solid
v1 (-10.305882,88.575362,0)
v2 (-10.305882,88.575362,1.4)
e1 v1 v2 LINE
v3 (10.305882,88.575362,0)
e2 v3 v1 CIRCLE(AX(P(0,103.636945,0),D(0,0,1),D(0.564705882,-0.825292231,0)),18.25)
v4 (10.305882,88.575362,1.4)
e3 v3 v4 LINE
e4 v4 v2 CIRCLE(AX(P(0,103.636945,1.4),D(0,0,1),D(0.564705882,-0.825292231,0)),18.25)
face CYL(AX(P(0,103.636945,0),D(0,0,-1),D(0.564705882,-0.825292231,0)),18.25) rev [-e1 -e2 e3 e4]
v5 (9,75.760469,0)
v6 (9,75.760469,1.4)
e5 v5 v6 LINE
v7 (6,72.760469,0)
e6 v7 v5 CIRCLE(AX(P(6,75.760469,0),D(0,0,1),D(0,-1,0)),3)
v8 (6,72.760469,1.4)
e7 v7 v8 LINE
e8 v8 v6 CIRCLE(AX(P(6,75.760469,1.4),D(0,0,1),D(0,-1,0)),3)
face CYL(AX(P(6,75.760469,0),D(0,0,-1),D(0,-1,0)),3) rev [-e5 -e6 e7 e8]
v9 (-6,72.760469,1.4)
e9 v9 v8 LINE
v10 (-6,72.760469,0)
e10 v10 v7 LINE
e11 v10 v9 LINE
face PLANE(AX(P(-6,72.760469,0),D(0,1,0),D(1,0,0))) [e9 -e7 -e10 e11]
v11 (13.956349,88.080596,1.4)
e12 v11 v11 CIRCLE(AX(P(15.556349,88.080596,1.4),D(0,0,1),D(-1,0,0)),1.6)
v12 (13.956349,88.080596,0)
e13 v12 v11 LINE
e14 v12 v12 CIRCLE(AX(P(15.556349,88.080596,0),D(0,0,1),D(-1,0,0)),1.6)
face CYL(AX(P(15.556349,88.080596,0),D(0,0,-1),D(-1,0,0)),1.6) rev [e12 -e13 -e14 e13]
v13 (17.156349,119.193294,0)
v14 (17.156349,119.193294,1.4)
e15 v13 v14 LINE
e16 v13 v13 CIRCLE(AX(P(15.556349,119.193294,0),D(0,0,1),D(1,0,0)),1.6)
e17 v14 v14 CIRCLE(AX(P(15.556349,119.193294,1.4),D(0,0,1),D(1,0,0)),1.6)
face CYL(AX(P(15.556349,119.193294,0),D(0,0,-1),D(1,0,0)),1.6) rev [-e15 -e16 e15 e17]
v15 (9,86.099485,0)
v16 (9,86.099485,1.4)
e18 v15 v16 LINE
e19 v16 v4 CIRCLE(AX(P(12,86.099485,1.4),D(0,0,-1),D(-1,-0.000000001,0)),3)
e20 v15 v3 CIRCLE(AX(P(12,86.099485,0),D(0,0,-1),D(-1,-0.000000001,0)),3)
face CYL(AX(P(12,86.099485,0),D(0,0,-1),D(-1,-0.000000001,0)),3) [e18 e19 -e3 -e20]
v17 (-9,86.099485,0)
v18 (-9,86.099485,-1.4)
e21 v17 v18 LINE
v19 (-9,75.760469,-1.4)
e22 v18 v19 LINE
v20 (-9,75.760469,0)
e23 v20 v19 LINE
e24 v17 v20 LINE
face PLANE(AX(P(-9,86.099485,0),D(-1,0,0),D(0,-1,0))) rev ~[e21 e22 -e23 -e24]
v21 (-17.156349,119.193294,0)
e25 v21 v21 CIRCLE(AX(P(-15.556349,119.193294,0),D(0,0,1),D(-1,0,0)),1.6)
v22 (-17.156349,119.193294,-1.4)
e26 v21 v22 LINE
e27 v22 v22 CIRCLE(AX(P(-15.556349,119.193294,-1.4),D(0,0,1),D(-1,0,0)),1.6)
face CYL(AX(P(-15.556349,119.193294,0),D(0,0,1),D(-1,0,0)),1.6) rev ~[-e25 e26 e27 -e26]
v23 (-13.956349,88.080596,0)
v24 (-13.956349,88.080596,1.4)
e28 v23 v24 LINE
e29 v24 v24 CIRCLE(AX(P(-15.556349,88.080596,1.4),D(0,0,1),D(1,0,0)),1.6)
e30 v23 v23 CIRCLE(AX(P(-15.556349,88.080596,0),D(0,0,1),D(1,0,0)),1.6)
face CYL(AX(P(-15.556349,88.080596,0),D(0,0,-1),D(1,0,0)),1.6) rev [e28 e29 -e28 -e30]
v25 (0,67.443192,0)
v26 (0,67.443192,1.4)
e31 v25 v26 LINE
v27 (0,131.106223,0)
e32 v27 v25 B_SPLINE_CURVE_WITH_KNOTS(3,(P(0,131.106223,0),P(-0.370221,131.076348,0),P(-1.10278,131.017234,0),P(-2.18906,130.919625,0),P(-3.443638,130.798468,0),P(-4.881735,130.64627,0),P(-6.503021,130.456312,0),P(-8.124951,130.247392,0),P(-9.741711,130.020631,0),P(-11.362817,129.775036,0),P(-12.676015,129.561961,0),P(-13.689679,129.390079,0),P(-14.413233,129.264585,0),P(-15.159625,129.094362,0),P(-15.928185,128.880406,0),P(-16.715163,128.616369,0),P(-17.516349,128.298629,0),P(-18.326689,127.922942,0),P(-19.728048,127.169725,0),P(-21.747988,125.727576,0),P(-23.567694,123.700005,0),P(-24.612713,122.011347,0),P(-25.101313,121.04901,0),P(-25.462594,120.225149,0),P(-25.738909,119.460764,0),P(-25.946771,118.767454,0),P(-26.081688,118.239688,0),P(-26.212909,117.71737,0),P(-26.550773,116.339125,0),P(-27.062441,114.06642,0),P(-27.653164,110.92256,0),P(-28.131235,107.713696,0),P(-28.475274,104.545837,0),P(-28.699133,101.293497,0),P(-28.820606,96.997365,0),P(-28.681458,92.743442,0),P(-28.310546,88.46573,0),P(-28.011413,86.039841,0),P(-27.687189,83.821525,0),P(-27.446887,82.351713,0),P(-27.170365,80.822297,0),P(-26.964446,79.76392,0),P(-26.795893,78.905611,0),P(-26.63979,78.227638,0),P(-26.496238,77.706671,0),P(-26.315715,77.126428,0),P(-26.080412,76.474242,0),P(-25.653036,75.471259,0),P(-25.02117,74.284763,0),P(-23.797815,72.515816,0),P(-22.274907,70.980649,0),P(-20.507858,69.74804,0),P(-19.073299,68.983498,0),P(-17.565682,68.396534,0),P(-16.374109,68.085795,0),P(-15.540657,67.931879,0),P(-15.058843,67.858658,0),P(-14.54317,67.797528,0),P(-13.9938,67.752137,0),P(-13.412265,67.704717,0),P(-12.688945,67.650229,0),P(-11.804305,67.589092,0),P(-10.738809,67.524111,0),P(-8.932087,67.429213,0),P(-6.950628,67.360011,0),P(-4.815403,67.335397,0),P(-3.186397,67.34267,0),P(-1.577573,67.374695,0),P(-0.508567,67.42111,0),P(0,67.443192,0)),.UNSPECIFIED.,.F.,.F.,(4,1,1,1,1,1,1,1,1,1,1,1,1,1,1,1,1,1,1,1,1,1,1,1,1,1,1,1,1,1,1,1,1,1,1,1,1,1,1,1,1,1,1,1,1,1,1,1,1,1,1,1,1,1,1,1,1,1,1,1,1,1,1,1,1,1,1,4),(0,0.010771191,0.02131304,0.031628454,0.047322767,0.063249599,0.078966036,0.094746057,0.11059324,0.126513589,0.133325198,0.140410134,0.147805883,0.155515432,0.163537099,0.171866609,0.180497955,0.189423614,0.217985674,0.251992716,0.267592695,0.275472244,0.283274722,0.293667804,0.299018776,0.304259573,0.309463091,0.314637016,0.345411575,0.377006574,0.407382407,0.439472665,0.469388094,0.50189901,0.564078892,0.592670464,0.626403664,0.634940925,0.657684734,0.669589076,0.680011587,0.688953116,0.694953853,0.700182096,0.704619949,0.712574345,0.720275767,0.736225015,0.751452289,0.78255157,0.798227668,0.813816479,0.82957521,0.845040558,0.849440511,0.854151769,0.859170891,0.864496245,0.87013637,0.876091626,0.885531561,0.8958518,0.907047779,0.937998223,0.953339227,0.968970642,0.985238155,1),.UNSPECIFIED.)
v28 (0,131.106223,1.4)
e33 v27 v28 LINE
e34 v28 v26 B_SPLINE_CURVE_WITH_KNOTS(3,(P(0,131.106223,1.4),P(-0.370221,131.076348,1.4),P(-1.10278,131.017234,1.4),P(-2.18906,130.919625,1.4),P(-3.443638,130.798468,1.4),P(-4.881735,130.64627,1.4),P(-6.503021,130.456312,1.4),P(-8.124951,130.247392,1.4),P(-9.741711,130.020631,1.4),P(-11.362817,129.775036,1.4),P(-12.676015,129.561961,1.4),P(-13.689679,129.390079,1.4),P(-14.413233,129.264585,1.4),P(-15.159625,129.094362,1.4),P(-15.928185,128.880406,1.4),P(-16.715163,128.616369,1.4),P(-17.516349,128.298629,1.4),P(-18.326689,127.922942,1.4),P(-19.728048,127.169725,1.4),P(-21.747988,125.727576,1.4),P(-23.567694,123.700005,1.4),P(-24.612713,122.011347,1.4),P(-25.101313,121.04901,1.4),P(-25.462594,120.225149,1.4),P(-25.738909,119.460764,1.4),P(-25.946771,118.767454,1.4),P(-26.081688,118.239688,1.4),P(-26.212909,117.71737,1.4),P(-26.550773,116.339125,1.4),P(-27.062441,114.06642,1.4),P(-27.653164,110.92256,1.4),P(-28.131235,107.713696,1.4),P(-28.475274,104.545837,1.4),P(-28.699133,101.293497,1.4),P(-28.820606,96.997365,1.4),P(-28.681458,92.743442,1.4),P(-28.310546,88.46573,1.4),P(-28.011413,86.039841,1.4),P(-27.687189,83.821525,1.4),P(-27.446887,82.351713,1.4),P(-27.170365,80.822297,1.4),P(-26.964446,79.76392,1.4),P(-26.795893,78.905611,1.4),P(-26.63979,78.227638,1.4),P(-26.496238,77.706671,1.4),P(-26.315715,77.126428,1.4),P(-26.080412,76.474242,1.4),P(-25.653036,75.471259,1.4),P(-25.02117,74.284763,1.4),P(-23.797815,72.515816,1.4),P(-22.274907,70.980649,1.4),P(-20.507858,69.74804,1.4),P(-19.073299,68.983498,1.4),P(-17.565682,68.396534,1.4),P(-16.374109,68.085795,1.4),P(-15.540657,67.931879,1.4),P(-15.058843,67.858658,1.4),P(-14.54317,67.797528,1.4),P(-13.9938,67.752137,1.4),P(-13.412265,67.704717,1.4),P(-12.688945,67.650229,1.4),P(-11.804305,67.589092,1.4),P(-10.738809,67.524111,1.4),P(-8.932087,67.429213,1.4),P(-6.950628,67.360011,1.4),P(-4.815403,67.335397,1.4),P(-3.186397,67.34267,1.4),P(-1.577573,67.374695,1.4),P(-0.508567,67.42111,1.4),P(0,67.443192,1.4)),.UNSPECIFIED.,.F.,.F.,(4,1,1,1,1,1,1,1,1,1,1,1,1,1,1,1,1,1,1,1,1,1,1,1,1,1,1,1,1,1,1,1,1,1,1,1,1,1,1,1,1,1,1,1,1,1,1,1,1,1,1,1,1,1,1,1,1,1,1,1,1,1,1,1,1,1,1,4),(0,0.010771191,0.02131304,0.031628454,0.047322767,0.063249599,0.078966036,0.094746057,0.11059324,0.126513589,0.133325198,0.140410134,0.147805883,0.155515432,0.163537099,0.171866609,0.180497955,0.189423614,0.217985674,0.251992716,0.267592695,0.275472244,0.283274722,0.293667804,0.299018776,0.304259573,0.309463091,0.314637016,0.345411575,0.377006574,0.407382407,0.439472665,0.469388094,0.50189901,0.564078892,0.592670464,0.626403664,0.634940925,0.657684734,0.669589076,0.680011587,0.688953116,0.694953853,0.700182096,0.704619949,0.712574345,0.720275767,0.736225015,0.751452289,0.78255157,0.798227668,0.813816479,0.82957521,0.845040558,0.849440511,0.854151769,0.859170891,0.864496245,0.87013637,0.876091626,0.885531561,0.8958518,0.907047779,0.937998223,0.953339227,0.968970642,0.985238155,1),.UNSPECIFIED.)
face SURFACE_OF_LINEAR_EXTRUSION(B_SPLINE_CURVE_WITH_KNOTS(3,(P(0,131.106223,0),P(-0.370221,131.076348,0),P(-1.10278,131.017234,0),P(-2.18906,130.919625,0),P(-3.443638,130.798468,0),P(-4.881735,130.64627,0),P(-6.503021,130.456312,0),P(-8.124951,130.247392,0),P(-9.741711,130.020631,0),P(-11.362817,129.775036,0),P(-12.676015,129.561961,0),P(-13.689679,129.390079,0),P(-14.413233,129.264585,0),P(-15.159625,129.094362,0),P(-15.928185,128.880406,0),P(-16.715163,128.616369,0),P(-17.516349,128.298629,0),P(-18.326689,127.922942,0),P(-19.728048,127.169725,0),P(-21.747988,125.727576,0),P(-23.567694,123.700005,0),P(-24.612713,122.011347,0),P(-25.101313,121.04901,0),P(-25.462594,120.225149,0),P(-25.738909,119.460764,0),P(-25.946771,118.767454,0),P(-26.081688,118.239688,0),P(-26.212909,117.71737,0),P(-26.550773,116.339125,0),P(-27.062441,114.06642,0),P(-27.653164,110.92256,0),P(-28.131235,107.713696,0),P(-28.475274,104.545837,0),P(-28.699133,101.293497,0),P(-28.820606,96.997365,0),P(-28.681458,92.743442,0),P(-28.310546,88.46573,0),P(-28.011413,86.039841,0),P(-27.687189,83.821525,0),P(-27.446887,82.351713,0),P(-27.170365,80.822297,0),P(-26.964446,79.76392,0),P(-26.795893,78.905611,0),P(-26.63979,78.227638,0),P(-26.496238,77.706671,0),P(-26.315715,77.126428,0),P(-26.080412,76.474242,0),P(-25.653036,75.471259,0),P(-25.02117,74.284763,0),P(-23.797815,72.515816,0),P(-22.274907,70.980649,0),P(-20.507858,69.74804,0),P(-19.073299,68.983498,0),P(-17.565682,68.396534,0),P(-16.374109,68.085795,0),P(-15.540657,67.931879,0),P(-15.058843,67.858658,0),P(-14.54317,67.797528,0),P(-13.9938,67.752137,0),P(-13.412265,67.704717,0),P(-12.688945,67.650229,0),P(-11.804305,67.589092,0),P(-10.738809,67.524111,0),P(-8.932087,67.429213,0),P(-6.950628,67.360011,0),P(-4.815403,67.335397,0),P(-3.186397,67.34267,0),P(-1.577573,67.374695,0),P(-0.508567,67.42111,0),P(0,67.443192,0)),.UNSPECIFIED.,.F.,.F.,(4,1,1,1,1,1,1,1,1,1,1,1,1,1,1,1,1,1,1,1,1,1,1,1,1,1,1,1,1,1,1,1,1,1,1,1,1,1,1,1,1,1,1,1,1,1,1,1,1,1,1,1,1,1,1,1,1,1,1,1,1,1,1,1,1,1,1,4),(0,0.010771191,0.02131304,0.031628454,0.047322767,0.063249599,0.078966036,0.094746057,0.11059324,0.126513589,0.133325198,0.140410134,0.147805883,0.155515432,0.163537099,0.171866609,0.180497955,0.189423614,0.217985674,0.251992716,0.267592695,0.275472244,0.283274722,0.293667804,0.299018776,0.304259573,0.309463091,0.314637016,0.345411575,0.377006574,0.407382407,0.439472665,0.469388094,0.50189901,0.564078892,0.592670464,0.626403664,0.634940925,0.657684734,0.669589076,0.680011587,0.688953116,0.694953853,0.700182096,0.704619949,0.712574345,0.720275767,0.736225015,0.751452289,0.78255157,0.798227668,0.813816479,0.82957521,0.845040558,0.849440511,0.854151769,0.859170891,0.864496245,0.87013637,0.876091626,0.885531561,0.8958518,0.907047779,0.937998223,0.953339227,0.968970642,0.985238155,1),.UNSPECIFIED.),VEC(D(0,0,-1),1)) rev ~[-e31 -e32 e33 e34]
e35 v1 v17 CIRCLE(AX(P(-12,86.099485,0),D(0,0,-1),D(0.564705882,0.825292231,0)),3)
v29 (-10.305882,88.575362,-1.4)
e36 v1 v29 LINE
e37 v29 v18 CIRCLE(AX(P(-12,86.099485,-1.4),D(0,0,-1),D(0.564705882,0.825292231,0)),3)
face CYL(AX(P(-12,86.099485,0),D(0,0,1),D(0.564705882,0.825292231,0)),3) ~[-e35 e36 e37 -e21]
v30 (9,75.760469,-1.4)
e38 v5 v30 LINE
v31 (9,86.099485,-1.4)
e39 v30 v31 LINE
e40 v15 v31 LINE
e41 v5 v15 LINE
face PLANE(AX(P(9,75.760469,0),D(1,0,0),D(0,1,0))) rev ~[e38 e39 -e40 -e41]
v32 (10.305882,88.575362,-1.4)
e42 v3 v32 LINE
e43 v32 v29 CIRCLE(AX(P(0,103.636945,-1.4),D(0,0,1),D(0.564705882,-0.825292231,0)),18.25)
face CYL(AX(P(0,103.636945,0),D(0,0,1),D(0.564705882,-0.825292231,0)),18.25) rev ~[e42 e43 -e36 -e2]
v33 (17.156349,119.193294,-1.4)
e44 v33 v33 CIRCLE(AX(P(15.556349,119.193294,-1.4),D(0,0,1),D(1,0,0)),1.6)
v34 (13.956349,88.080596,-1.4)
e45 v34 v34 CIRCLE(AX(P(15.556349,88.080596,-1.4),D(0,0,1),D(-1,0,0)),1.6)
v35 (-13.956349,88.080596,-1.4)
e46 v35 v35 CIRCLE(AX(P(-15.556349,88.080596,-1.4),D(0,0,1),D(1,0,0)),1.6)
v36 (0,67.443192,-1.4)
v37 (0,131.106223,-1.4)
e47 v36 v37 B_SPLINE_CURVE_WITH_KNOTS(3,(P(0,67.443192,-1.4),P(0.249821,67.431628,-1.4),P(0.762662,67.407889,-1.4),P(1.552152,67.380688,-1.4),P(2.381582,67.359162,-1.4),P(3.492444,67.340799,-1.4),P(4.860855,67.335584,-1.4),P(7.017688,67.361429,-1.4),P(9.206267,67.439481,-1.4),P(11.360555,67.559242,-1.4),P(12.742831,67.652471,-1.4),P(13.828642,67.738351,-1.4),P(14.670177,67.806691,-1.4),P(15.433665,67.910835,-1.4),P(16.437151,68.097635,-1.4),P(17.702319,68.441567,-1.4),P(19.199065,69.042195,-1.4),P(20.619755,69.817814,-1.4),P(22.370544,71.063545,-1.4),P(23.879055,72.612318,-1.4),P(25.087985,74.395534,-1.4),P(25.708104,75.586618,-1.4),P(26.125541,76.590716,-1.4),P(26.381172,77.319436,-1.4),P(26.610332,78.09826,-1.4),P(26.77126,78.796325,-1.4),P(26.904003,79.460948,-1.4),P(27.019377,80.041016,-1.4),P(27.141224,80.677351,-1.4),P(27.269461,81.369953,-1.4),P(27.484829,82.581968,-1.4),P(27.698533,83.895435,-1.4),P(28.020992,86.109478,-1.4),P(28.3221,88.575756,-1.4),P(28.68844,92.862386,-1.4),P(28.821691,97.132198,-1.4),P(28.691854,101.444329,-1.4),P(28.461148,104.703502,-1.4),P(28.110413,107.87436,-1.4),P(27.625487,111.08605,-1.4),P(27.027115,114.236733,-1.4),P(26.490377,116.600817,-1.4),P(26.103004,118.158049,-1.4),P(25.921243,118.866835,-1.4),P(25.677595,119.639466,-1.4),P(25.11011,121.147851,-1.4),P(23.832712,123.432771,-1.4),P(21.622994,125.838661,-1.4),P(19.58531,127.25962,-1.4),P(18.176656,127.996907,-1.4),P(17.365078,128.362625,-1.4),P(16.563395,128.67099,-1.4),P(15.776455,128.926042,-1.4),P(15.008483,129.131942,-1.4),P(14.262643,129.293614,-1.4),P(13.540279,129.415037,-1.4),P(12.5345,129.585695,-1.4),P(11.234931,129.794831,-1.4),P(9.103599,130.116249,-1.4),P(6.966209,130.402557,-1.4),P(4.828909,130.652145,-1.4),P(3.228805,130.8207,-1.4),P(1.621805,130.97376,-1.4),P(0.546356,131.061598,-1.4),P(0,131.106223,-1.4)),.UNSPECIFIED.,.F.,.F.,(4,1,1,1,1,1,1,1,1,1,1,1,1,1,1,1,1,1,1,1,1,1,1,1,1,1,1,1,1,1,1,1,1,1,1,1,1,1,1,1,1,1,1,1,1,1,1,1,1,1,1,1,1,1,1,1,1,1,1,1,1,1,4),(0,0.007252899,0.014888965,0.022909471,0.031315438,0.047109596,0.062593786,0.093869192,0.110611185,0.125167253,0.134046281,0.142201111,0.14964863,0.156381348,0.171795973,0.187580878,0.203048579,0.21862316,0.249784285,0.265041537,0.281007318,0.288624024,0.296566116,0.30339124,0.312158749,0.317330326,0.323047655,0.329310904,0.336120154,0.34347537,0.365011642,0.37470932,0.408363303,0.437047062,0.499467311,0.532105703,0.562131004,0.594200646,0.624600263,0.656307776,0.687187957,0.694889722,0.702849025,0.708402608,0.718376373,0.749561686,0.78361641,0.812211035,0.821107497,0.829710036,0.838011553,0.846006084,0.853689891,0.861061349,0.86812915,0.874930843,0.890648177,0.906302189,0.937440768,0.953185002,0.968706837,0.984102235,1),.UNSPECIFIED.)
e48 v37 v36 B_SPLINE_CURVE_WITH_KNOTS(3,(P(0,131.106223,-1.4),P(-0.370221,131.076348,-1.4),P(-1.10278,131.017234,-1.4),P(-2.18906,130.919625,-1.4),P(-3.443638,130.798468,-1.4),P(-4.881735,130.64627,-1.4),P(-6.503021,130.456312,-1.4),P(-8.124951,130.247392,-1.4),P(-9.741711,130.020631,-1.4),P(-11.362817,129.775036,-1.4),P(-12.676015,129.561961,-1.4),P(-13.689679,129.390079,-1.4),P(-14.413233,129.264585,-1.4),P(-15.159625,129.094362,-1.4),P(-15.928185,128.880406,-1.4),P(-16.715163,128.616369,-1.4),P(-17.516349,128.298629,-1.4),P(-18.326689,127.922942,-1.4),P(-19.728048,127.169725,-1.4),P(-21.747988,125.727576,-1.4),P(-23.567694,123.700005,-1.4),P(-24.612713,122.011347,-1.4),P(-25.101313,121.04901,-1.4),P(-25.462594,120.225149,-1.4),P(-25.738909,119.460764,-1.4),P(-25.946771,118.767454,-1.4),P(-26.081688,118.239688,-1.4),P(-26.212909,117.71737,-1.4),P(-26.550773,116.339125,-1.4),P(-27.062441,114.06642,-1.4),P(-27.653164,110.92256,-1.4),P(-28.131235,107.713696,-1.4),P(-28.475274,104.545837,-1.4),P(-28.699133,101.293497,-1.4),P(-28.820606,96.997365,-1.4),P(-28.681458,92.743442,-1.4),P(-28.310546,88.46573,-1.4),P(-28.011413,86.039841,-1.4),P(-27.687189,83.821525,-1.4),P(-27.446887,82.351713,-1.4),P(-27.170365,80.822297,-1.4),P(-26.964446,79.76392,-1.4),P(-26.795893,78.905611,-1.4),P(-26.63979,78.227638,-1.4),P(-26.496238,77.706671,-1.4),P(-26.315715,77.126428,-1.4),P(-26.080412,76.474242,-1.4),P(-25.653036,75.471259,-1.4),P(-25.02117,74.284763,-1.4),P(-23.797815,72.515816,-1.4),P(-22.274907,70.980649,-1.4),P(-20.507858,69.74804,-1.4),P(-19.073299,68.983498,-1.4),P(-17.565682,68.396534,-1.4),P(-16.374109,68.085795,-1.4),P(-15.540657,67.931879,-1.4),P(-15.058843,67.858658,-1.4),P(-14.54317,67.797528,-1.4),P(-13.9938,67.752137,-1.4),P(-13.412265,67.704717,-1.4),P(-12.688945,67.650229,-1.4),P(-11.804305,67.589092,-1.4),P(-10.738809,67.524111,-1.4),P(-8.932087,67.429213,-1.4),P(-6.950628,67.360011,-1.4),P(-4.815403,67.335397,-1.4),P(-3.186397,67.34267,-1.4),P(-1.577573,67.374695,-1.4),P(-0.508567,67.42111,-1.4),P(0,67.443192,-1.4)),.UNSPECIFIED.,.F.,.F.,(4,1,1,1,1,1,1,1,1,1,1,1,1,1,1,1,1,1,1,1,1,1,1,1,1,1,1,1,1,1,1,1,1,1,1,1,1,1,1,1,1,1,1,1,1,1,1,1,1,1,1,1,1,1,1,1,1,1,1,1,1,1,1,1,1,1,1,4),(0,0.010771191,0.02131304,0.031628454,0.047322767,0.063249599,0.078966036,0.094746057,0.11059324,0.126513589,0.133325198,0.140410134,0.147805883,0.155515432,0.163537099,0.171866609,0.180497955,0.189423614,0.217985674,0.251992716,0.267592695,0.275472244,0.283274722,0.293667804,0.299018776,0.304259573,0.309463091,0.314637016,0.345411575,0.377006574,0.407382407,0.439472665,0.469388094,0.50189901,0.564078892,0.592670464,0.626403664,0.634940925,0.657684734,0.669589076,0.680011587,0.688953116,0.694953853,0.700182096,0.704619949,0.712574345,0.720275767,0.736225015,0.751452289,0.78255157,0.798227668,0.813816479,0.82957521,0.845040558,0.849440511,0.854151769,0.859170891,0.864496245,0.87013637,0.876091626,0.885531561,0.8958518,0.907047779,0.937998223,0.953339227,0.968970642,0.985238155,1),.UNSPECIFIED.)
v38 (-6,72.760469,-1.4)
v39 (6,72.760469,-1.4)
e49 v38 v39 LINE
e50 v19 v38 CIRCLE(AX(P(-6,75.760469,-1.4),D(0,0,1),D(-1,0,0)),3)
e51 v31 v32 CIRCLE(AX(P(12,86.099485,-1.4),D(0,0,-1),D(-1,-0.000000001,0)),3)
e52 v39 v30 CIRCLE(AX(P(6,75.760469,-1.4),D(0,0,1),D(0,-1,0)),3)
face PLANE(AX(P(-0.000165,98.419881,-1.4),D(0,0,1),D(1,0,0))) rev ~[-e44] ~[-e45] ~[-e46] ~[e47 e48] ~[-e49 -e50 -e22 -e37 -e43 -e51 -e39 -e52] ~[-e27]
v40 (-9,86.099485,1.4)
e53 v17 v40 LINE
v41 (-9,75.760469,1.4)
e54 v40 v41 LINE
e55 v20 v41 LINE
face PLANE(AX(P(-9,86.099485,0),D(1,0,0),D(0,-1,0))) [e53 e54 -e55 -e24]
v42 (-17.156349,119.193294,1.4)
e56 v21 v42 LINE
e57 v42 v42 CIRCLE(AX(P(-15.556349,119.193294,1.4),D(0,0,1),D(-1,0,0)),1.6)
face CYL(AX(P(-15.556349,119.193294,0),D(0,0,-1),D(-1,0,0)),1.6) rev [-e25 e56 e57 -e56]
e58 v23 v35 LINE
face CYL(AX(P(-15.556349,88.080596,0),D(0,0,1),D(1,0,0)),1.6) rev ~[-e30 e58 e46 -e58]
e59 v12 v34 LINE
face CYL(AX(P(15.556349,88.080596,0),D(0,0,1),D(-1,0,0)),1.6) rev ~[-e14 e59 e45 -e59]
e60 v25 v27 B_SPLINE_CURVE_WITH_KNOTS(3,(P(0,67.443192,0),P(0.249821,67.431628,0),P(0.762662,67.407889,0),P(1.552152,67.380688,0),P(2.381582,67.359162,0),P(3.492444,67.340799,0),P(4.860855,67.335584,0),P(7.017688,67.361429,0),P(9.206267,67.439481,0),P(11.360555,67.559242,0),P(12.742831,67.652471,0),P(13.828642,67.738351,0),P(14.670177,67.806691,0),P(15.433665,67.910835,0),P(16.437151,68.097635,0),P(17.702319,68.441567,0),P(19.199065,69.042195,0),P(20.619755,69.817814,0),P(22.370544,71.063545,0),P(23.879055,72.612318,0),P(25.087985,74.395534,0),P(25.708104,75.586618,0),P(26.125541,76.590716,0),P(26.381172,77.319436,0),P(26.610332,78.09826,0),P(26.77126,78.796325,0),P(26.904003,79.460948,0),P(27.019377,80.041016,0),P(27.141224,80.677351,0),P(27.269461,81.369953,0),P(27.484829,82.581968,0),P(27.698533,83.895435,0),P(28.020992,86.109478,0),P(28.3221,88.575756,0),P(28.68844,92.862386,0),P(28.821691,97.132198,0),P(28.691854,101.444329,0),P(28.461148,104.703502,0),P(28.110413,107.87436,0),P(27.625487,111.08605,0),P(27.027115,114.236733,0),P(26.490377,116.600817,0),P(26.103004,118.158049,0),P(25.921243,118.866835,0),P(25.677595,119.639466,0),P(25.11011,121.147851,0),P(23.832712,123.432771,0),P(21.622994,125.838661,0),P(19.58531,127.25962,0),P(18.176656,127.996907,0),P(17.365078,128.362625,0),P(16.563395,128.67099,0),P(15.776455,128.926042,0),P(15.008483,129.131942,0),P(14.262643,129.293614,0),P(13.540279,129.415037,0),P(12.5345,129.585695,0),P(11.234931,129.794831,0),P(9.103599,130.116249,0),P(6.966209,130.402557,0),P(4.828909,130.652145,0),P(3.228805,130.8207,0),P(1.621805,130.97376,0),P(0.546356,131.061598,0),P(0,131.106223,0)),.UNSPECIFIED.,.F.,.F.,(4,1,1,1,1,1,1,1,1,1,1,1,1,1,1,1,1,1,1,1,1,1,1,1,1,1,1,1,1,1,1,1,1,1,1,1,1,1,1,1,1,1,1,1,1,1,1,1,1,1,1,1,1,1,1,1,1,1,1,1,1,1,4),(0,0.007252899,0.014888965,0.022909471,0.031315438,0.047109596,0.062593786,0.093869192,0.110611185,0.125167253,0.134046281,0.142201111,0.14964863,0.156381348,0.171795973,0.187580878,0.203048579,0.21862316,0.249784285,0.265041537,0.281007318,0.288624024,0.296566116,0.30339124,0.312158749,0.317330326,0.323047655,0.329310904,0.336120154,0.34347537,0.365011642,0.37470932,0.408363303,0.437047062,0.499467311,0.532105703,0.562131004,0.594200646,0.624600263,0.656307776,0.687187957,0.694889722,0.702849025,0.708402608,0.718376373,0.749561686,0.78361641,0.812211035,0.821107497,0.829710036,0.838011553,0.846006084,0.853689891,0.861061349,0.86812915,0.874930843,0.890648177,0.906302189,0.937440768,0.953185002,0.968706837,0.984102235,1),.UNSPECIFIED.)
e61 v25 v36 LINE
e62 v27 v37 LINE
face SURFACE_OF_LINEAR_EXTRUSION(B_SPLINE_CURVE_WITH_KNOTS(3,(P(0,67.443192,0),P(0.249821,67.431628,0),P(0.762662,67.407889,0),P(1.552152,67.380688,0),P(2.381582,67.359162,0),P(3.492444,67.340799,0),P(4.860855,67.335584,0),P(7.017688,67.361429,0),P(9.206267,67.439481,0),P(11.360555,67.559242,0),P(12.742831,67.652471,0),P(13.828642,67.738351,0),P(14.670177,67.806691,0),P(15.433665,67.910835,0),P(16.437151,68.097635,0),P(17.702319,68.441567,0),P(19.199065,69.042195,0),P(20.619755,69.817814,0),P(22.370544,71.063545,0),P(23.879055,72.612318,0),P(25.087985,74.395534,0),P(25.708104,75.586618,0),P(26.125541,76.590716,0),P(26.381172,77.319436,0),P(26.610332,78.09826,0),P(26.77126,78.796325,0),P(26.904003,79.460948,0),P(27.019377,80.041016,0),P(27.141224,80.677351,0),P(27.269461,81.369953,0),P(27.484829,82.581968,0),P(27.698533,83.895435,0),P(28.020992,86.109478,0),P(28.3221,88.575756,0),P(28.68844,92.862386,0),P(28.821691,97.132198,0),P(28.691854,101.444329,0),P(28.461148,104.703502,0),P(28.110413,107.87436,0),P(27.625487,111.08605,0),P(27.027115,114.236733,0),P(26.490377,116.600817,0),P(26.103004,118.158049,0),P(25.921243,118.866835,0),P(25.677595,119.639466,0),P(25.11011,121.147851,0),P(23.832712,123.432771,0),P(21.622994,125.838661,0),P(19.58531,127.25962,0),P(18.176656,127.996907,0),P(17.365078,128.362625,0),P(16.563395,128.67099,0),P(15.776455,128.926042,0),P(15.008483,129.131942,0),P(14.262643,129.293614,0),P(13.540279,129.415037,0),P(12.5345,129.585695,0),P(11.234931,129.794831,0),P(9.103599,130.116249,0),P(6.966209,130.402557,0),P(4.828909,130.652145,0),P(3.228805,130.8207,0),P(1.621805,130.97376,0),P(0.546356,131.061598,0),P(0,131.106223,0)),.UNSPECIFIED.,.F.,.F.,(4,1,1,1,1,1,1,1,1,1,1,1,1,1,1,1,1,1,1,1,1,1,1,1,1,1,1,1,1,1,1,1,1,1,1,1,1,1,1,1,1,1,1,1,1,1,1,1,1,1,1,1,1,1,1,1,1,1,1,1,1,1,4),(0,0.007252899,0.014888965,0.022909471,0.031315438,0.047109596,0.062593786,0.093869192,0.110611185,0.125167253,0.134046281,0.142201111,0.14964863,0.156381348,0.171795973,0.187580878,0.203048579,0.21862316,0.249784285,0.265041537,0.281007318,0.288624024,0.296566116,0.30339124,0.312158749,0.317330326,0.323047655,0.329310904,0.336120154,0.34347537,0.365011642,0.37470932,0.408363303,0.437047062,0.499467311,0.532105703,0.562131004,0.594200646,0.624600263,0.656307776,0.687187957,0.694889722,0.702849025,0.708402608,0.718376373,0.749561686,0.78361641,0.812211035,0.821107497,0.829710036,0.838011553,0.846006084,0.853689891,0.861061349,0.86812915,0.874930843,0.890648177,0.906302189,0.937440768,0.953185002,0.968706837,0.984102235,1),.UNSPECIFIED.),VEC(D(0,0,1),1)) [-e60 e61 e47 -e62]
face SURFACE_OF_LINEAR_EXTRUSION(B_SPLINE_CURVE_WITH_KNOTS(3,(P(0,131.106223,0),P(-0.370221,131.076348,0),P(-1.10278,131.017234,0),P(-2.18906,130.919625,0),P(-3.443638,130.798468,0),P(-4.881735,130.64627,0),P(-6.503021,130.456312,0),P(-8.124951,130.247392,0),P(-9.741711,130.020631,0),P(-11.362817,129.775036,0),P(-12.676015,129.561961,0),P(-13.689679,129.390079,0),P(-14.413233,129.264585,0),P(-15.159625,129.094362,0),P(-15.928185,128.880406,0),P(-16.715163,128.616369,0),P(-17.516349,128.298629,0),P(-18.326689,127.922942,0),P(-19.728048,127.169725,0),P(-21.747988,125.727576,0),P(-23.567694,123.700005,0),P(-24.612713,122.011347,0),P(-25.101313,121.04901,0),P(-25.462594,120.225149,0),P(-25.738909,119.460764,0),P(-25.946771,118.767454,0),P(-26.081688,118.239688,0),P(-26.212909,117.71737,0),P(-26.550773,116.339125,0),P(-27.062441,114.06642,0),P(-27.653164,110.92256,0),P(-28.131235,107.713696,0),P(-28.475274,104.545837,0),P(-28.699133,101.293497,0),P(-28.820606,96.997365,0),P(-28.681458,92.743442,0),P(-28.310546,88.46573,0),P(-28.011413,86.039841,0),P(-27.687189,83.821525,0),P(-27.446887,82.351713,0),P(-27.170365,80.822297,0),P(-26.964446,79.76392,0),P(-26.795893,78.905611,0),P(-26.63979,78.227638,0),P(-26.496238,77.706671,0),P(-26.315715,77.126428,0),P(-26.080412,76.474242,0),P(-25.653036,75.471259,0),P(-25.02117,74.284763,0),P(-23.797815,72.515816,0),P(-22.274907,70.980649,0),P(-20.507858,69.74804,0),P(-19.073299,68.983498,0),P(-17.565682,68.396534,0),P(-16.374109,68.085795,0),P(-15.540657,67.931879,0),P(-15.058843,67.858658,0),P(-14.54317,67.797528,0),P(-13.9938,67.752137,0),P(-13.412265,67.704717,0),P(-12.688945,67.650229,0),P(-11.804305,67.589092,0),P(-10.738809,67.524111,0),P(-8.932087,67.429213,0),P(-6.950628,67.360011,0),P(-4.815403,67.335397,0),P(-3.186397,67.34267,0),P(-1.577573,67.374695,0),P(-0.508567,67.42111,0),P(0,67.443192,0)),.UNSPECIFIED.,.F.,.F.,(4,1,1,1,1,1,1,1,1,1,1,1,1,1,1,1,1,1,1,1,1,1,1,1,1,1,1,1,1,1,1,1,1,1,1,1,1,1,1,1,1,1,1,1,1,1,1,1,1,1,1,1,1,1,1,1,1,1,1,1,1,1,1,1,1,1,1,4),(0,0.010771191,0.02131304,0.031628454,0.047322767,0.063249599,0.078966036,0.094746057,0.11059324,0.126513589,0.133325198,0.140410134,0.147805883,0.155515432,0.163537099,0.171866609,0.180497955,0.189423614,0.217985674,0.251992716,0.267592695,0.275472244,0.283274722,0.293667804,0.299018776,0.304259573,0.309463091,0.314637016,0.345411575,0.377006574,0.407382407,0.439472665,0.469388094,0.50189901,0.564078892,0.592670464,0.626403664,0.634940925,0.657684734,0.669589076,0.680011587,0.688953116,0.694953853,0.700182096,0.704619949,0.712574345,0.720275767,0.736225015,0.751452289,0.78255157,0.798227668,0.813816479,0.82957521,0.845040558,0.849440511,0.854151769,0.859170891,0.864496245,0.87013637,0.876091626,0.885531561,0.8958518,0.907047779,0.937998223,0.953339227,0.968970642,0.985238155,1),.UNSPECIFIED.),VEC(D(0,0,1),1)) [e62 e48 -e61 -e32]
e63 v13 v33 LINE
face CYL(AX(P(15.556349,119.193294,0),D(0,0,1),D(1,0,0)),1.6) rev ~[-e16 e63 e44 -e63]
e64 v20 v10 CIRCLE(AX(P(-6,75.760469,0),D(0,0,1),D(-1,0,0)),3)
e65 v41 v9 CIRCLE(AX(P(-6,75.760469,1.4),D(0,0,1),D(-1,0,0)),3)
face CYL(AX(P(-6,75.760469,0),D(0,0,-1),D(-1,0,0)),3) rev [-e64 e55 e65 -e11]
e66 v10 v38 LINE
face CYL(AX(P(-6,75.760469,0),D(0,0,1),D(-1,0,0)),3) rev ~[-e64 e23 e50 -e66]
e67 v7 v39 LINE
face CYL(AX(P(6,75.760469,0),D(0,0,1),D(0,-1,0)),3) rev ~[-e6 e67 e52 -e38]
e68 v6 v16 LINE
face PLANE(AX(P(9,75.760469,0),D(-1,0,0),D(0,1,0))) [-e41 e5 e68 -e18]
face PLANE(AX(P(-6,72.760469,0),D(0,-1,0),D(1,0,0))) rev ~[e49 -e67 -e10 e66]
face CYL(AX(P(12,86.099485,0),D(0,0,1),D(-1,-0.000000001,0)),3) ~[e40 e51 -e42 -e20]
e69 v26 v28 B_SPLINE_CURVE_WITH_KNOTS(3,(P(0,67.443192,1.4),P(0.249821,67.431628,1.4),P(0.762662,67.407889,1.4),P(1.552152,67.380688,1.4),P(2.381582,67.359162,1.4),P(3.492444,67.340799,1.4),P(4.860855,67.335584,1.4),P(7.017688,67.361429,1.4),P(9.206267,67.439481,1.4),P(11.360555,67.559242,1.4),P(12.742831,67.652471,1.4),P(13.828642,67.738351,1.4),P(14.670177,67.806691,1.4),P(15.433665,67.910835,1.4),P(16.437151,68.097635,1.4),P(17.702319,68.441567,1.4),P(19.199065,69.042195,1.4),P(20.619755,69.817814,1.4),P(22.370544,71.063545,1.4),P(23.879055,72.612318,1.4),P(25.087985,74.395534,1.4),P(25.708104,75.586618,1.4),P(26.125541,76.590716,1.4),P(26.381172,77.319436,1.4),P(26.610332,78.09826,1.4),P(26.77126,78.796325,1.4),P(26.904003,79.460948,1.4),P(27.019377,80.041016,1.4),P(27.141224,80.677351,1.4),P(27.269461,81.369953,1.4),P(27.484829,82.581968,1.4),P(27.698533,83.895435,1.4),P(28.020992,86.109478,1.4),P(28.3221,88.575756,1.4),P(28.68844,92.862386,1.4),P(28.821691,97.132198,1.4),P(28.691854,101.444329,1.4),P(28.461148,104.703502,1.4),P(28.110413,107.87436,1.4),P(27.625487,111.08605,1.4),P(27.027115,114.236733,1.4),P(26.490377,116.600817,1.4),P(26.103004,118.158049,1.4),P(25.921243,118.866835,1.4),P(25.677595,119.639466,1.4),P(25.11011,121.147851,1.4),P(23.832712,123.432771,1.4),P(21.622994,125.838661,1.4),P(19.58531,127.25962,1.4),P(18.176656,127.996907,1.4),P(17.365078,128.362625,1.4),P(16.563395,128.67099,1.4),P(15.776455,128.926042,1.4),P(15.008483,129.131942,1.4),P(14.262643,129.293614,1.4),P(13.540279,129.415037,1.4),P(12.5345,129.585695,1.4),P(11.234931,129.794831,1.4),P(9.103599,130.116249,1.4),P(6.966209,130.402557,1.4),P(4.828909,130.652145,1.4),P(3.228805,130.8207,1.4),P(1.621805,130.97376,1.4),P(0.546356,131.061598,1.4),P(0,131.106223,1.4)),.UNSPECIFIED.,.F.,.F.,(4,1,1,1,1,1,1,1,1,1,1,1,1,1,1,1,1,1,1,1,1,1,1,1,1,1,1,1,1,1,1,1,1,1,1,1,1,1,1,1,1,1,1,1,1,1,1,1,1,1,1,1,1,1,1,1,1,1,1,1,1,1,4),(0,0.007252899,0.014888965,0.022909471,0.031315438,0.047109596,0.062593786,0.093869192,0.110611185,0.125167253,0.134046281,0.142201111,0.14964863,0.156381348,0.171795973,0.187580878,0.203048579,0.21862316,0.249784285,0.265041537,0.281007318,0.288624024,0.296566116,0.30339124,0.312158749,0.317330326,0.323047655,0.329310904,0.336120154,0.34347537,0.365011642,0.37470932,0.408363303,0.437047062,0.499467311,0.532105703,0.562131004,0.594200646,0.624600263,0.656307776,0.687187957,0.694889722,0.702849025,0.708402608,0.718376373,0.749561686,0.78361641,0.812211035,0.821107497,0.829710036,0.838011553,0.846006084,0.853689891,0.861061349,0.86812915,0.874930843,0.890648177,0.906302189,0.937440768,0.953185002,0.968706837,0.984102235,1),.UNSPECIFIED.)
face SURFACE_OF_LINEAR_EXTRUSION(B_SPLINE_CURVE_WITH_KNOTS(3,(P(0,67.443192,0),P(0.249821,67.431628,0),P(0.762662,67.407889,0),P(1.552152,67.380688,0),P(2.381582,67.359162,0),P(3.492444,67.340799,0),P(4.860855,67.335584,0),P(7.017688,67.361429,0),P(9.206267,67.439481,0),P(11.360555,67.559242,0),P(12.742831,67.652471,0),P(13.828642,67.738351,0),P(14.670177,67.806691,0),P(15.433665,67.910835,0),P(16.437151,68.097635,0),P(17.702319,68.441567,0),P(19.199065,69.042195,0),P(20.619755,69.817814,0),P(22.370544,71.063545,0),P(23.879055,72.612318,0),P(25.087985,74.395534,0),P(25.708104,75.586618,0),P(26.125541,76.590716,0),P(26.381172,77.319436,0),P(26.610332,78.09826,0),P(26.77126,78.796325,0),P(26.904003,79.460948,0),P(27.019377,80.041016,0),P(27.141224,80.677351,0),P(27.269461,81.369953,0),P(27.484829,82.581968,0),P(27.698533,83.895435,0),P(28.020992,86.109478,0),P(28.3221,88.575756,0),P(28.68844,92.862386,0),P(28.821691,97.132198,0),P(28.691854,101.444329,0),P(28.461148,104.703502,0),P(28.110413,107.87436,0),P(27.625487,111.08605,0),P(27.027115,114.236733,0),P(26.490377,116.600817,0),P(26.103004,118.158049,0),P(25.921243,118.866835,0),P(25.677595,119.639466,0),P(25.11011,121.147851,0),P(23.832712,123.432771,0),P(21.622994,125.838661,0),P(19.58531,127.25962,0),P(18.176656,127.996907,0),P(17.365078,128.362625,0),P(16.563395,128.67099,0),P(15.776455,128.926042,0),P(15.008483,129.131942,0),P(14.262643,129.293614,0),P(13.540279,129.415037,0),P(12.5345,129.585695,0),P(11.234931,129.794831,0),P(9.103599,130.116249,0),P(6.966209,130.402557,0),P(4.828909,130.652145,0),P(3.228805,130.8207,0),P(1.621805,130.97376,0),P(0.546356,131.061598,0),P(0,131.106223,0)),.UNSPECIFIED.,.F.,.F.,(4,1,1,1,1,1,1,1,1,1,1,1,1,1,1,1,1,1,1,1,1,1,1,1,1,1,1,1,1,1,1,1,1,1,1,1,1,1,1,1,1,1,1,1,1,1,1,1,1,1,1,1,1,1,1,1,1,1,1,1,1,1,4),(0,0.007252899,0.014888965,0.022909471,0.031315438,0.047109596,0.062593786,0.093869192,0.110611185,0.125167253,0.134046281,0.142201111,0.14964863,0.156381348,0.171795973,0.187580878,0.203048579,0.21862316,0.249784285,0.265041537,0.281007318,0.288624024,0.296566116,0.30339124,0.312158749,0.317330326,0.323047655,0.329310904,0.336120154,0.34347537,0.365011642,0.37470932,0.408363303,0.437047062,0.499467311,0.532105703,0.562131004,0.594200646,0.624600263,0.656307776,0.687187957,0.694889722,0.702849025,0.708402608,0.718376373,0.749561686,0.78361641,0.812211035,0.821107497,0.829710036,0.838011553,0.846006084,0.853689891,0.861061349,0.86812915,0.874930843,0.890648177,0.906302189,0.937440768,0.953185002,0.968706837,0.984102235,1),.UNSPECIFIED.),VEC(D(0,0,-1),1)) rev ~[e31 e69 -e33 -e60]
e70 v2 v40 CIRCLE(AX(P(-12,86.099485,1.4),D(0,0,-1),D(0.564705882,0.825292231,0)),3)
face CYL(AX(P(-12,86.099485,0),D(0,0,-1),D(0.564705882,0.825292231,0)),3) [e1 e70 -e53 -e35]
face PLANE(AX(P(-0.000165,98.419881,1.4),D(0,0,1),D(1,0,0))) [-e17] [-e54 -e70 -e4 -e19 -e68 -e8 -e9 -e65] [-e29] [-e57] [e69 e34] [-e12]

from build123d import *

# Parameters (mm, degrees)
SKETCH_1_R      = 1.6
EXTRUDE_1_DEPTH = 1.4


with BuildPart() as part:
    # Эскиз1 → Бобышка-Вытянуть1 (new, symmetric)
    with BuildSketch(Plane.XY):
        with BuildLine():
            add(Edge.make_bspline(
                [(0, 131.106222882), (-0.370220785, 131.076347993), (-1.102779578, 131.017234316), (-2.189060224, 130.919624595), (-3.443637711, 130.798467833), (-4.881735459, 130.646269922), (-6.503020503, 130.456312253), (-8.12495085, 130.247392322), (-9.741711108, 130.020630526), (-11.36281695, 129.775036484), (-12.676015392, 129.561961331), (-13.68967903, 129.390078582), (-14.413232864, 129.264584839), (-15.159625099, 129.094362093), (-15.928185443, 128.880405682), (-16.715163254, 128.616368934), (-17.516348702, 128.298628961), (-18.326688606, 127.922941878), (-19.728048414, 127.169724573), (-21.747987535, 125.727575964), (-23.567693799, 123.700004581), (-24.612712681, 122.011346521), (-25.101312847, 121.04901032), (-25.462593655, 120.225148914), (-25.738909462, 119.460763634), (-25.94677143, 118.767454031), (-26.081687876, 118.239687864), (-26.212908569, 117.717370422), (-26.550773375, 116.339124971), (-27.062440519, 114.066420204), (-27.653164131, 110.922560067), (-28.131235228, 107.713696234), (-28.475274231, 104.545836759), (-28.699132748, 101.293497056), (-28.820606115, 96.997365467), (-28.681457815, 92.743441744), (-28.310546102, 88.465729648), (-28.011412762, 86.039840672), (-27.687188607, 83.821524975), (-27.446887043, 82.351713486), (-27.170364704, 80.822297117), (-26.964445801, 79.763919621), (-26.795893016, 78.905610826), (-26.639789871, 78.227638137), (-26.496238435, 77.706670532), (-26.315714678, 77.126427714), (-26.080412167, 76.474242148), (-25.653035676, 75.47125893), (-25.021169521, 74.284763335), (-23.797814677, 72.515816398), (-22.274906789, 70.980648572), (-20.507858139, 69.748039699), (-19.073299489, 68.983497976), (-17.565682132, 68.396534243), (-16.374108839, 68.085794929), (-15.540656532, 67.931878814), (-15.058842612, 67.858658077), (-14.543170425, 67.797527545), (-13.993799753, 67.752137476), (-13.412264546, 67.704717217), (-12.688945313, 67.650229305), (-11.804304984, 67.589091763), (-10.73880925, 67.52411052), (-8.932087435, 67.42921281), (-6.950627599, 67.36001138), (-4.815403254, 67.335396808), (-3.186397421, 67.342670006), (-1.577573114, 67.374694658), (-0.508566905, 67.421110428), (0, 67.443192175)],
                knots=[0, 0, 0, 0, 0.010771191, 0.02131304, 0.031628454, 0.047322767, 0.063249599, 0.078966036, 0.094746057, 0.11059324, 0.126513589, 0.133325198, 0.140410134, 0.147805883, 0.155515432, 0.163537099, 0.171866609, 0.180497955, 0.189423614, 0.217985674, 0.251992716, 0.267592695, 0.275472244, 0.283274722, 0.293667804, 0.299018776, 0.304259573, 0.309463091, 0.314637016, 0.345411575, 0.377006574, 0.407382407, 0.439472665, 0.469388094, 0.50189901, 0.564078892, 0.592670464, 0.626403664, 0.634940925, 0.657684734, 0.669589076, 0.680011587, 0.688953116, 0.694953853, 0.700182096, 0.704619949, 0.712574345, 0.720275767, 0.736225015, 0.751452289, 0.78255157, 0.798227668, 0.813816479, 0.82957521, 0.845040558, 0.849440511, 0.854151769, 0.859170891, 0.864496245, 0.87013637, 0.876091626, 0.885531561, 0.8958518, 0.907047779, 0.937998223, 0.953339227, 0.968970642, 0.985238155, 1, 1, 1, 1], degree=3))
            add(Edge.make_bspline(
                [(0, 67.443192175), (0.249821364, 67.431628062), (0.762662013, 67.40788891), (1.552151885, 67.380688451), (2.38158192, 67.359162124), (3.492443713, 67.340799343), (4.860854811, 67.335584203), (7.017688253, 67.361429059), (9.206266825, 67.439481423), (11.360555129, 67.559242305), (12.742830846, 67.652471284), (13.828642073, 67.738350945), (14.670177097, 67.806690644), (15.433665488, 67.910835289), (16.43715099, 68.097635371), (17.7023193, 68.441566796), (19.19906457, 69.04219543), (20.619754867, 69.817813812), (22.370543972, 71.063544766), (23.879054895, 72.612317775), (25.087984722, 74.395533827), (25.708103716, 75.586617657), (26.125541169, 76.590715807), (26.381172043, 77.319435939), (26.610332418, 78.098259903), (26.771259587, 78.796324954), (26.904003327, 79.460947792), (27.019377268, 80.04101619), (27.141224488, 80.6773507), (27.269461333, 81.369952952), (27.48482909, 82.581967896), (27.69853251, 83.895434571), (28.020991969, 86.109477736), (28.322099842, 88.575755775), (28.688440492, 92.86238598), (28.82169129, 97.132197747), (28.691853506, 101.444329278), (28.461147635, 104.703501922), (28.11041252, 107.874360128), (27.625487332, 111.086050261), (27.027115418, 114.236733399), (26.490376549, 116.600816702), (26.103003987, 118.15804878), (25.921243346, 118.866835156), (25.677595437, 119.639466291), (25.110109967, 121.14785111), (23.832711812, 123.43277094), (21.622994104, 125.838661408), (19.585309988, 127.259620437), (18.176655717, 127.99690654), (17.365078488, 128.362625042), (16.563395265, 128.670990381), (15.776455467, 128.926042141), (15.008483475, 129.131941856), (14.262643492, 129.293613738), (13.540279292, 129.415036674), (12.534500053, 129.585694823), (11.23493113, 129.794831482), (9.103598592, 130.116248501), (6.966209264, 130.402556522), (4.828909424, 130.65214503), (3.228804537, 130.820700086), (1.621804658, 130.97375985), (0.54635647, 131.061598497), (0, 131.106222882)],
                knots=[0, 0, 0, 0, 0.007252899, 0.014888965, 0.022909471, 0.031315438, 0.047109596, 0.062593786, 0.093869192, 0.110611185, 0.125167253, 0.134046281, 0.142201111, 0.14964863, 0.156381348, 0.171795973, 0.187580878, 0.203048579, 0.21862316, 0.249784285, 0.265041537, 0.281007318, 0.288624024, 0.296566116, 0.30339124, 0.312158749, 0.317330326, 0.323047655, 0.329310904, 0.336120154, 0.34347537, 0.365011642, 0.37470932, 0.408363303, 0.437047062, 0.499467311, 0.532105703, 0.562131004, 0.594200646, 0.624600263, 0.656307776, 0.687187957, 0.694889722, 0.702849025, 0.708402608, 0.718376373, 0.749561686, 0.78361641, 0.812211035, 0.821107497, 0.829710036, 0.838011553, 0.846006084, 0.853689891, 0.861061349, 0.86812915, 0.874930843, 0.890648177, 0.906302189, 0.937440768, 0.953185002, 0.968706837, 0.984102235, 1, 1, 1, 1], degree=3))
        make_face()
        with Locations((15.556349186, 119.193294207)):
            Circle(SKETCH_1_R, mode=Mode.SUBTRACT)
        with Locations(Location((15.556349186, 88.080595835, 0), (0, 0, 180))):
            Circle(SKETCH_1_R, mode=Mode.SUBTRACT)
        with Locations((-15.556349186, 88.080595835)):
            Circle(SKETCH_1_R, mode=Mode.SUBTRACT)
        with Locations(Location((-15.556349186, 119.193294207, 0), (0, 0, 180))):
            Circle(SKETCH_1_R, mode=Mode.SUBTRACT)
        with BuildLine():
            Line((-6, 72.760468711), (6, 72.760468711))
            ThreePointArc((6, 72.760468711), (8.121320344, 73.639148368), (9, 75.760468711))
            Line((9, 75.760468711), (9, 86.099485113))
            ThreePointArc((9, 86.099485113), (9.346478477, 87.499064882), (10.305882353, 88.575361806))
            ThreePointArc((10.305882353, 88.575361806), (0, 121.886945021), (-10.305882353, 88.575361806))
            ThreePointArc((-10.305882353, 88.575361806), (-9.346478477, 87.499064882), (-9, 86.099485113))
            Line((-9, 86.099485113), (-9, 75.760468711))
            ThreePointArc((-9, 75.760468711), (-8.121320344, 73.639148368), (-6, 72.760468711))
        make_face(mode=Mode.SUBTRACT)
    extrude(amount=EXTRUDE_1_DEPTH, both=True)


solid = part.part
